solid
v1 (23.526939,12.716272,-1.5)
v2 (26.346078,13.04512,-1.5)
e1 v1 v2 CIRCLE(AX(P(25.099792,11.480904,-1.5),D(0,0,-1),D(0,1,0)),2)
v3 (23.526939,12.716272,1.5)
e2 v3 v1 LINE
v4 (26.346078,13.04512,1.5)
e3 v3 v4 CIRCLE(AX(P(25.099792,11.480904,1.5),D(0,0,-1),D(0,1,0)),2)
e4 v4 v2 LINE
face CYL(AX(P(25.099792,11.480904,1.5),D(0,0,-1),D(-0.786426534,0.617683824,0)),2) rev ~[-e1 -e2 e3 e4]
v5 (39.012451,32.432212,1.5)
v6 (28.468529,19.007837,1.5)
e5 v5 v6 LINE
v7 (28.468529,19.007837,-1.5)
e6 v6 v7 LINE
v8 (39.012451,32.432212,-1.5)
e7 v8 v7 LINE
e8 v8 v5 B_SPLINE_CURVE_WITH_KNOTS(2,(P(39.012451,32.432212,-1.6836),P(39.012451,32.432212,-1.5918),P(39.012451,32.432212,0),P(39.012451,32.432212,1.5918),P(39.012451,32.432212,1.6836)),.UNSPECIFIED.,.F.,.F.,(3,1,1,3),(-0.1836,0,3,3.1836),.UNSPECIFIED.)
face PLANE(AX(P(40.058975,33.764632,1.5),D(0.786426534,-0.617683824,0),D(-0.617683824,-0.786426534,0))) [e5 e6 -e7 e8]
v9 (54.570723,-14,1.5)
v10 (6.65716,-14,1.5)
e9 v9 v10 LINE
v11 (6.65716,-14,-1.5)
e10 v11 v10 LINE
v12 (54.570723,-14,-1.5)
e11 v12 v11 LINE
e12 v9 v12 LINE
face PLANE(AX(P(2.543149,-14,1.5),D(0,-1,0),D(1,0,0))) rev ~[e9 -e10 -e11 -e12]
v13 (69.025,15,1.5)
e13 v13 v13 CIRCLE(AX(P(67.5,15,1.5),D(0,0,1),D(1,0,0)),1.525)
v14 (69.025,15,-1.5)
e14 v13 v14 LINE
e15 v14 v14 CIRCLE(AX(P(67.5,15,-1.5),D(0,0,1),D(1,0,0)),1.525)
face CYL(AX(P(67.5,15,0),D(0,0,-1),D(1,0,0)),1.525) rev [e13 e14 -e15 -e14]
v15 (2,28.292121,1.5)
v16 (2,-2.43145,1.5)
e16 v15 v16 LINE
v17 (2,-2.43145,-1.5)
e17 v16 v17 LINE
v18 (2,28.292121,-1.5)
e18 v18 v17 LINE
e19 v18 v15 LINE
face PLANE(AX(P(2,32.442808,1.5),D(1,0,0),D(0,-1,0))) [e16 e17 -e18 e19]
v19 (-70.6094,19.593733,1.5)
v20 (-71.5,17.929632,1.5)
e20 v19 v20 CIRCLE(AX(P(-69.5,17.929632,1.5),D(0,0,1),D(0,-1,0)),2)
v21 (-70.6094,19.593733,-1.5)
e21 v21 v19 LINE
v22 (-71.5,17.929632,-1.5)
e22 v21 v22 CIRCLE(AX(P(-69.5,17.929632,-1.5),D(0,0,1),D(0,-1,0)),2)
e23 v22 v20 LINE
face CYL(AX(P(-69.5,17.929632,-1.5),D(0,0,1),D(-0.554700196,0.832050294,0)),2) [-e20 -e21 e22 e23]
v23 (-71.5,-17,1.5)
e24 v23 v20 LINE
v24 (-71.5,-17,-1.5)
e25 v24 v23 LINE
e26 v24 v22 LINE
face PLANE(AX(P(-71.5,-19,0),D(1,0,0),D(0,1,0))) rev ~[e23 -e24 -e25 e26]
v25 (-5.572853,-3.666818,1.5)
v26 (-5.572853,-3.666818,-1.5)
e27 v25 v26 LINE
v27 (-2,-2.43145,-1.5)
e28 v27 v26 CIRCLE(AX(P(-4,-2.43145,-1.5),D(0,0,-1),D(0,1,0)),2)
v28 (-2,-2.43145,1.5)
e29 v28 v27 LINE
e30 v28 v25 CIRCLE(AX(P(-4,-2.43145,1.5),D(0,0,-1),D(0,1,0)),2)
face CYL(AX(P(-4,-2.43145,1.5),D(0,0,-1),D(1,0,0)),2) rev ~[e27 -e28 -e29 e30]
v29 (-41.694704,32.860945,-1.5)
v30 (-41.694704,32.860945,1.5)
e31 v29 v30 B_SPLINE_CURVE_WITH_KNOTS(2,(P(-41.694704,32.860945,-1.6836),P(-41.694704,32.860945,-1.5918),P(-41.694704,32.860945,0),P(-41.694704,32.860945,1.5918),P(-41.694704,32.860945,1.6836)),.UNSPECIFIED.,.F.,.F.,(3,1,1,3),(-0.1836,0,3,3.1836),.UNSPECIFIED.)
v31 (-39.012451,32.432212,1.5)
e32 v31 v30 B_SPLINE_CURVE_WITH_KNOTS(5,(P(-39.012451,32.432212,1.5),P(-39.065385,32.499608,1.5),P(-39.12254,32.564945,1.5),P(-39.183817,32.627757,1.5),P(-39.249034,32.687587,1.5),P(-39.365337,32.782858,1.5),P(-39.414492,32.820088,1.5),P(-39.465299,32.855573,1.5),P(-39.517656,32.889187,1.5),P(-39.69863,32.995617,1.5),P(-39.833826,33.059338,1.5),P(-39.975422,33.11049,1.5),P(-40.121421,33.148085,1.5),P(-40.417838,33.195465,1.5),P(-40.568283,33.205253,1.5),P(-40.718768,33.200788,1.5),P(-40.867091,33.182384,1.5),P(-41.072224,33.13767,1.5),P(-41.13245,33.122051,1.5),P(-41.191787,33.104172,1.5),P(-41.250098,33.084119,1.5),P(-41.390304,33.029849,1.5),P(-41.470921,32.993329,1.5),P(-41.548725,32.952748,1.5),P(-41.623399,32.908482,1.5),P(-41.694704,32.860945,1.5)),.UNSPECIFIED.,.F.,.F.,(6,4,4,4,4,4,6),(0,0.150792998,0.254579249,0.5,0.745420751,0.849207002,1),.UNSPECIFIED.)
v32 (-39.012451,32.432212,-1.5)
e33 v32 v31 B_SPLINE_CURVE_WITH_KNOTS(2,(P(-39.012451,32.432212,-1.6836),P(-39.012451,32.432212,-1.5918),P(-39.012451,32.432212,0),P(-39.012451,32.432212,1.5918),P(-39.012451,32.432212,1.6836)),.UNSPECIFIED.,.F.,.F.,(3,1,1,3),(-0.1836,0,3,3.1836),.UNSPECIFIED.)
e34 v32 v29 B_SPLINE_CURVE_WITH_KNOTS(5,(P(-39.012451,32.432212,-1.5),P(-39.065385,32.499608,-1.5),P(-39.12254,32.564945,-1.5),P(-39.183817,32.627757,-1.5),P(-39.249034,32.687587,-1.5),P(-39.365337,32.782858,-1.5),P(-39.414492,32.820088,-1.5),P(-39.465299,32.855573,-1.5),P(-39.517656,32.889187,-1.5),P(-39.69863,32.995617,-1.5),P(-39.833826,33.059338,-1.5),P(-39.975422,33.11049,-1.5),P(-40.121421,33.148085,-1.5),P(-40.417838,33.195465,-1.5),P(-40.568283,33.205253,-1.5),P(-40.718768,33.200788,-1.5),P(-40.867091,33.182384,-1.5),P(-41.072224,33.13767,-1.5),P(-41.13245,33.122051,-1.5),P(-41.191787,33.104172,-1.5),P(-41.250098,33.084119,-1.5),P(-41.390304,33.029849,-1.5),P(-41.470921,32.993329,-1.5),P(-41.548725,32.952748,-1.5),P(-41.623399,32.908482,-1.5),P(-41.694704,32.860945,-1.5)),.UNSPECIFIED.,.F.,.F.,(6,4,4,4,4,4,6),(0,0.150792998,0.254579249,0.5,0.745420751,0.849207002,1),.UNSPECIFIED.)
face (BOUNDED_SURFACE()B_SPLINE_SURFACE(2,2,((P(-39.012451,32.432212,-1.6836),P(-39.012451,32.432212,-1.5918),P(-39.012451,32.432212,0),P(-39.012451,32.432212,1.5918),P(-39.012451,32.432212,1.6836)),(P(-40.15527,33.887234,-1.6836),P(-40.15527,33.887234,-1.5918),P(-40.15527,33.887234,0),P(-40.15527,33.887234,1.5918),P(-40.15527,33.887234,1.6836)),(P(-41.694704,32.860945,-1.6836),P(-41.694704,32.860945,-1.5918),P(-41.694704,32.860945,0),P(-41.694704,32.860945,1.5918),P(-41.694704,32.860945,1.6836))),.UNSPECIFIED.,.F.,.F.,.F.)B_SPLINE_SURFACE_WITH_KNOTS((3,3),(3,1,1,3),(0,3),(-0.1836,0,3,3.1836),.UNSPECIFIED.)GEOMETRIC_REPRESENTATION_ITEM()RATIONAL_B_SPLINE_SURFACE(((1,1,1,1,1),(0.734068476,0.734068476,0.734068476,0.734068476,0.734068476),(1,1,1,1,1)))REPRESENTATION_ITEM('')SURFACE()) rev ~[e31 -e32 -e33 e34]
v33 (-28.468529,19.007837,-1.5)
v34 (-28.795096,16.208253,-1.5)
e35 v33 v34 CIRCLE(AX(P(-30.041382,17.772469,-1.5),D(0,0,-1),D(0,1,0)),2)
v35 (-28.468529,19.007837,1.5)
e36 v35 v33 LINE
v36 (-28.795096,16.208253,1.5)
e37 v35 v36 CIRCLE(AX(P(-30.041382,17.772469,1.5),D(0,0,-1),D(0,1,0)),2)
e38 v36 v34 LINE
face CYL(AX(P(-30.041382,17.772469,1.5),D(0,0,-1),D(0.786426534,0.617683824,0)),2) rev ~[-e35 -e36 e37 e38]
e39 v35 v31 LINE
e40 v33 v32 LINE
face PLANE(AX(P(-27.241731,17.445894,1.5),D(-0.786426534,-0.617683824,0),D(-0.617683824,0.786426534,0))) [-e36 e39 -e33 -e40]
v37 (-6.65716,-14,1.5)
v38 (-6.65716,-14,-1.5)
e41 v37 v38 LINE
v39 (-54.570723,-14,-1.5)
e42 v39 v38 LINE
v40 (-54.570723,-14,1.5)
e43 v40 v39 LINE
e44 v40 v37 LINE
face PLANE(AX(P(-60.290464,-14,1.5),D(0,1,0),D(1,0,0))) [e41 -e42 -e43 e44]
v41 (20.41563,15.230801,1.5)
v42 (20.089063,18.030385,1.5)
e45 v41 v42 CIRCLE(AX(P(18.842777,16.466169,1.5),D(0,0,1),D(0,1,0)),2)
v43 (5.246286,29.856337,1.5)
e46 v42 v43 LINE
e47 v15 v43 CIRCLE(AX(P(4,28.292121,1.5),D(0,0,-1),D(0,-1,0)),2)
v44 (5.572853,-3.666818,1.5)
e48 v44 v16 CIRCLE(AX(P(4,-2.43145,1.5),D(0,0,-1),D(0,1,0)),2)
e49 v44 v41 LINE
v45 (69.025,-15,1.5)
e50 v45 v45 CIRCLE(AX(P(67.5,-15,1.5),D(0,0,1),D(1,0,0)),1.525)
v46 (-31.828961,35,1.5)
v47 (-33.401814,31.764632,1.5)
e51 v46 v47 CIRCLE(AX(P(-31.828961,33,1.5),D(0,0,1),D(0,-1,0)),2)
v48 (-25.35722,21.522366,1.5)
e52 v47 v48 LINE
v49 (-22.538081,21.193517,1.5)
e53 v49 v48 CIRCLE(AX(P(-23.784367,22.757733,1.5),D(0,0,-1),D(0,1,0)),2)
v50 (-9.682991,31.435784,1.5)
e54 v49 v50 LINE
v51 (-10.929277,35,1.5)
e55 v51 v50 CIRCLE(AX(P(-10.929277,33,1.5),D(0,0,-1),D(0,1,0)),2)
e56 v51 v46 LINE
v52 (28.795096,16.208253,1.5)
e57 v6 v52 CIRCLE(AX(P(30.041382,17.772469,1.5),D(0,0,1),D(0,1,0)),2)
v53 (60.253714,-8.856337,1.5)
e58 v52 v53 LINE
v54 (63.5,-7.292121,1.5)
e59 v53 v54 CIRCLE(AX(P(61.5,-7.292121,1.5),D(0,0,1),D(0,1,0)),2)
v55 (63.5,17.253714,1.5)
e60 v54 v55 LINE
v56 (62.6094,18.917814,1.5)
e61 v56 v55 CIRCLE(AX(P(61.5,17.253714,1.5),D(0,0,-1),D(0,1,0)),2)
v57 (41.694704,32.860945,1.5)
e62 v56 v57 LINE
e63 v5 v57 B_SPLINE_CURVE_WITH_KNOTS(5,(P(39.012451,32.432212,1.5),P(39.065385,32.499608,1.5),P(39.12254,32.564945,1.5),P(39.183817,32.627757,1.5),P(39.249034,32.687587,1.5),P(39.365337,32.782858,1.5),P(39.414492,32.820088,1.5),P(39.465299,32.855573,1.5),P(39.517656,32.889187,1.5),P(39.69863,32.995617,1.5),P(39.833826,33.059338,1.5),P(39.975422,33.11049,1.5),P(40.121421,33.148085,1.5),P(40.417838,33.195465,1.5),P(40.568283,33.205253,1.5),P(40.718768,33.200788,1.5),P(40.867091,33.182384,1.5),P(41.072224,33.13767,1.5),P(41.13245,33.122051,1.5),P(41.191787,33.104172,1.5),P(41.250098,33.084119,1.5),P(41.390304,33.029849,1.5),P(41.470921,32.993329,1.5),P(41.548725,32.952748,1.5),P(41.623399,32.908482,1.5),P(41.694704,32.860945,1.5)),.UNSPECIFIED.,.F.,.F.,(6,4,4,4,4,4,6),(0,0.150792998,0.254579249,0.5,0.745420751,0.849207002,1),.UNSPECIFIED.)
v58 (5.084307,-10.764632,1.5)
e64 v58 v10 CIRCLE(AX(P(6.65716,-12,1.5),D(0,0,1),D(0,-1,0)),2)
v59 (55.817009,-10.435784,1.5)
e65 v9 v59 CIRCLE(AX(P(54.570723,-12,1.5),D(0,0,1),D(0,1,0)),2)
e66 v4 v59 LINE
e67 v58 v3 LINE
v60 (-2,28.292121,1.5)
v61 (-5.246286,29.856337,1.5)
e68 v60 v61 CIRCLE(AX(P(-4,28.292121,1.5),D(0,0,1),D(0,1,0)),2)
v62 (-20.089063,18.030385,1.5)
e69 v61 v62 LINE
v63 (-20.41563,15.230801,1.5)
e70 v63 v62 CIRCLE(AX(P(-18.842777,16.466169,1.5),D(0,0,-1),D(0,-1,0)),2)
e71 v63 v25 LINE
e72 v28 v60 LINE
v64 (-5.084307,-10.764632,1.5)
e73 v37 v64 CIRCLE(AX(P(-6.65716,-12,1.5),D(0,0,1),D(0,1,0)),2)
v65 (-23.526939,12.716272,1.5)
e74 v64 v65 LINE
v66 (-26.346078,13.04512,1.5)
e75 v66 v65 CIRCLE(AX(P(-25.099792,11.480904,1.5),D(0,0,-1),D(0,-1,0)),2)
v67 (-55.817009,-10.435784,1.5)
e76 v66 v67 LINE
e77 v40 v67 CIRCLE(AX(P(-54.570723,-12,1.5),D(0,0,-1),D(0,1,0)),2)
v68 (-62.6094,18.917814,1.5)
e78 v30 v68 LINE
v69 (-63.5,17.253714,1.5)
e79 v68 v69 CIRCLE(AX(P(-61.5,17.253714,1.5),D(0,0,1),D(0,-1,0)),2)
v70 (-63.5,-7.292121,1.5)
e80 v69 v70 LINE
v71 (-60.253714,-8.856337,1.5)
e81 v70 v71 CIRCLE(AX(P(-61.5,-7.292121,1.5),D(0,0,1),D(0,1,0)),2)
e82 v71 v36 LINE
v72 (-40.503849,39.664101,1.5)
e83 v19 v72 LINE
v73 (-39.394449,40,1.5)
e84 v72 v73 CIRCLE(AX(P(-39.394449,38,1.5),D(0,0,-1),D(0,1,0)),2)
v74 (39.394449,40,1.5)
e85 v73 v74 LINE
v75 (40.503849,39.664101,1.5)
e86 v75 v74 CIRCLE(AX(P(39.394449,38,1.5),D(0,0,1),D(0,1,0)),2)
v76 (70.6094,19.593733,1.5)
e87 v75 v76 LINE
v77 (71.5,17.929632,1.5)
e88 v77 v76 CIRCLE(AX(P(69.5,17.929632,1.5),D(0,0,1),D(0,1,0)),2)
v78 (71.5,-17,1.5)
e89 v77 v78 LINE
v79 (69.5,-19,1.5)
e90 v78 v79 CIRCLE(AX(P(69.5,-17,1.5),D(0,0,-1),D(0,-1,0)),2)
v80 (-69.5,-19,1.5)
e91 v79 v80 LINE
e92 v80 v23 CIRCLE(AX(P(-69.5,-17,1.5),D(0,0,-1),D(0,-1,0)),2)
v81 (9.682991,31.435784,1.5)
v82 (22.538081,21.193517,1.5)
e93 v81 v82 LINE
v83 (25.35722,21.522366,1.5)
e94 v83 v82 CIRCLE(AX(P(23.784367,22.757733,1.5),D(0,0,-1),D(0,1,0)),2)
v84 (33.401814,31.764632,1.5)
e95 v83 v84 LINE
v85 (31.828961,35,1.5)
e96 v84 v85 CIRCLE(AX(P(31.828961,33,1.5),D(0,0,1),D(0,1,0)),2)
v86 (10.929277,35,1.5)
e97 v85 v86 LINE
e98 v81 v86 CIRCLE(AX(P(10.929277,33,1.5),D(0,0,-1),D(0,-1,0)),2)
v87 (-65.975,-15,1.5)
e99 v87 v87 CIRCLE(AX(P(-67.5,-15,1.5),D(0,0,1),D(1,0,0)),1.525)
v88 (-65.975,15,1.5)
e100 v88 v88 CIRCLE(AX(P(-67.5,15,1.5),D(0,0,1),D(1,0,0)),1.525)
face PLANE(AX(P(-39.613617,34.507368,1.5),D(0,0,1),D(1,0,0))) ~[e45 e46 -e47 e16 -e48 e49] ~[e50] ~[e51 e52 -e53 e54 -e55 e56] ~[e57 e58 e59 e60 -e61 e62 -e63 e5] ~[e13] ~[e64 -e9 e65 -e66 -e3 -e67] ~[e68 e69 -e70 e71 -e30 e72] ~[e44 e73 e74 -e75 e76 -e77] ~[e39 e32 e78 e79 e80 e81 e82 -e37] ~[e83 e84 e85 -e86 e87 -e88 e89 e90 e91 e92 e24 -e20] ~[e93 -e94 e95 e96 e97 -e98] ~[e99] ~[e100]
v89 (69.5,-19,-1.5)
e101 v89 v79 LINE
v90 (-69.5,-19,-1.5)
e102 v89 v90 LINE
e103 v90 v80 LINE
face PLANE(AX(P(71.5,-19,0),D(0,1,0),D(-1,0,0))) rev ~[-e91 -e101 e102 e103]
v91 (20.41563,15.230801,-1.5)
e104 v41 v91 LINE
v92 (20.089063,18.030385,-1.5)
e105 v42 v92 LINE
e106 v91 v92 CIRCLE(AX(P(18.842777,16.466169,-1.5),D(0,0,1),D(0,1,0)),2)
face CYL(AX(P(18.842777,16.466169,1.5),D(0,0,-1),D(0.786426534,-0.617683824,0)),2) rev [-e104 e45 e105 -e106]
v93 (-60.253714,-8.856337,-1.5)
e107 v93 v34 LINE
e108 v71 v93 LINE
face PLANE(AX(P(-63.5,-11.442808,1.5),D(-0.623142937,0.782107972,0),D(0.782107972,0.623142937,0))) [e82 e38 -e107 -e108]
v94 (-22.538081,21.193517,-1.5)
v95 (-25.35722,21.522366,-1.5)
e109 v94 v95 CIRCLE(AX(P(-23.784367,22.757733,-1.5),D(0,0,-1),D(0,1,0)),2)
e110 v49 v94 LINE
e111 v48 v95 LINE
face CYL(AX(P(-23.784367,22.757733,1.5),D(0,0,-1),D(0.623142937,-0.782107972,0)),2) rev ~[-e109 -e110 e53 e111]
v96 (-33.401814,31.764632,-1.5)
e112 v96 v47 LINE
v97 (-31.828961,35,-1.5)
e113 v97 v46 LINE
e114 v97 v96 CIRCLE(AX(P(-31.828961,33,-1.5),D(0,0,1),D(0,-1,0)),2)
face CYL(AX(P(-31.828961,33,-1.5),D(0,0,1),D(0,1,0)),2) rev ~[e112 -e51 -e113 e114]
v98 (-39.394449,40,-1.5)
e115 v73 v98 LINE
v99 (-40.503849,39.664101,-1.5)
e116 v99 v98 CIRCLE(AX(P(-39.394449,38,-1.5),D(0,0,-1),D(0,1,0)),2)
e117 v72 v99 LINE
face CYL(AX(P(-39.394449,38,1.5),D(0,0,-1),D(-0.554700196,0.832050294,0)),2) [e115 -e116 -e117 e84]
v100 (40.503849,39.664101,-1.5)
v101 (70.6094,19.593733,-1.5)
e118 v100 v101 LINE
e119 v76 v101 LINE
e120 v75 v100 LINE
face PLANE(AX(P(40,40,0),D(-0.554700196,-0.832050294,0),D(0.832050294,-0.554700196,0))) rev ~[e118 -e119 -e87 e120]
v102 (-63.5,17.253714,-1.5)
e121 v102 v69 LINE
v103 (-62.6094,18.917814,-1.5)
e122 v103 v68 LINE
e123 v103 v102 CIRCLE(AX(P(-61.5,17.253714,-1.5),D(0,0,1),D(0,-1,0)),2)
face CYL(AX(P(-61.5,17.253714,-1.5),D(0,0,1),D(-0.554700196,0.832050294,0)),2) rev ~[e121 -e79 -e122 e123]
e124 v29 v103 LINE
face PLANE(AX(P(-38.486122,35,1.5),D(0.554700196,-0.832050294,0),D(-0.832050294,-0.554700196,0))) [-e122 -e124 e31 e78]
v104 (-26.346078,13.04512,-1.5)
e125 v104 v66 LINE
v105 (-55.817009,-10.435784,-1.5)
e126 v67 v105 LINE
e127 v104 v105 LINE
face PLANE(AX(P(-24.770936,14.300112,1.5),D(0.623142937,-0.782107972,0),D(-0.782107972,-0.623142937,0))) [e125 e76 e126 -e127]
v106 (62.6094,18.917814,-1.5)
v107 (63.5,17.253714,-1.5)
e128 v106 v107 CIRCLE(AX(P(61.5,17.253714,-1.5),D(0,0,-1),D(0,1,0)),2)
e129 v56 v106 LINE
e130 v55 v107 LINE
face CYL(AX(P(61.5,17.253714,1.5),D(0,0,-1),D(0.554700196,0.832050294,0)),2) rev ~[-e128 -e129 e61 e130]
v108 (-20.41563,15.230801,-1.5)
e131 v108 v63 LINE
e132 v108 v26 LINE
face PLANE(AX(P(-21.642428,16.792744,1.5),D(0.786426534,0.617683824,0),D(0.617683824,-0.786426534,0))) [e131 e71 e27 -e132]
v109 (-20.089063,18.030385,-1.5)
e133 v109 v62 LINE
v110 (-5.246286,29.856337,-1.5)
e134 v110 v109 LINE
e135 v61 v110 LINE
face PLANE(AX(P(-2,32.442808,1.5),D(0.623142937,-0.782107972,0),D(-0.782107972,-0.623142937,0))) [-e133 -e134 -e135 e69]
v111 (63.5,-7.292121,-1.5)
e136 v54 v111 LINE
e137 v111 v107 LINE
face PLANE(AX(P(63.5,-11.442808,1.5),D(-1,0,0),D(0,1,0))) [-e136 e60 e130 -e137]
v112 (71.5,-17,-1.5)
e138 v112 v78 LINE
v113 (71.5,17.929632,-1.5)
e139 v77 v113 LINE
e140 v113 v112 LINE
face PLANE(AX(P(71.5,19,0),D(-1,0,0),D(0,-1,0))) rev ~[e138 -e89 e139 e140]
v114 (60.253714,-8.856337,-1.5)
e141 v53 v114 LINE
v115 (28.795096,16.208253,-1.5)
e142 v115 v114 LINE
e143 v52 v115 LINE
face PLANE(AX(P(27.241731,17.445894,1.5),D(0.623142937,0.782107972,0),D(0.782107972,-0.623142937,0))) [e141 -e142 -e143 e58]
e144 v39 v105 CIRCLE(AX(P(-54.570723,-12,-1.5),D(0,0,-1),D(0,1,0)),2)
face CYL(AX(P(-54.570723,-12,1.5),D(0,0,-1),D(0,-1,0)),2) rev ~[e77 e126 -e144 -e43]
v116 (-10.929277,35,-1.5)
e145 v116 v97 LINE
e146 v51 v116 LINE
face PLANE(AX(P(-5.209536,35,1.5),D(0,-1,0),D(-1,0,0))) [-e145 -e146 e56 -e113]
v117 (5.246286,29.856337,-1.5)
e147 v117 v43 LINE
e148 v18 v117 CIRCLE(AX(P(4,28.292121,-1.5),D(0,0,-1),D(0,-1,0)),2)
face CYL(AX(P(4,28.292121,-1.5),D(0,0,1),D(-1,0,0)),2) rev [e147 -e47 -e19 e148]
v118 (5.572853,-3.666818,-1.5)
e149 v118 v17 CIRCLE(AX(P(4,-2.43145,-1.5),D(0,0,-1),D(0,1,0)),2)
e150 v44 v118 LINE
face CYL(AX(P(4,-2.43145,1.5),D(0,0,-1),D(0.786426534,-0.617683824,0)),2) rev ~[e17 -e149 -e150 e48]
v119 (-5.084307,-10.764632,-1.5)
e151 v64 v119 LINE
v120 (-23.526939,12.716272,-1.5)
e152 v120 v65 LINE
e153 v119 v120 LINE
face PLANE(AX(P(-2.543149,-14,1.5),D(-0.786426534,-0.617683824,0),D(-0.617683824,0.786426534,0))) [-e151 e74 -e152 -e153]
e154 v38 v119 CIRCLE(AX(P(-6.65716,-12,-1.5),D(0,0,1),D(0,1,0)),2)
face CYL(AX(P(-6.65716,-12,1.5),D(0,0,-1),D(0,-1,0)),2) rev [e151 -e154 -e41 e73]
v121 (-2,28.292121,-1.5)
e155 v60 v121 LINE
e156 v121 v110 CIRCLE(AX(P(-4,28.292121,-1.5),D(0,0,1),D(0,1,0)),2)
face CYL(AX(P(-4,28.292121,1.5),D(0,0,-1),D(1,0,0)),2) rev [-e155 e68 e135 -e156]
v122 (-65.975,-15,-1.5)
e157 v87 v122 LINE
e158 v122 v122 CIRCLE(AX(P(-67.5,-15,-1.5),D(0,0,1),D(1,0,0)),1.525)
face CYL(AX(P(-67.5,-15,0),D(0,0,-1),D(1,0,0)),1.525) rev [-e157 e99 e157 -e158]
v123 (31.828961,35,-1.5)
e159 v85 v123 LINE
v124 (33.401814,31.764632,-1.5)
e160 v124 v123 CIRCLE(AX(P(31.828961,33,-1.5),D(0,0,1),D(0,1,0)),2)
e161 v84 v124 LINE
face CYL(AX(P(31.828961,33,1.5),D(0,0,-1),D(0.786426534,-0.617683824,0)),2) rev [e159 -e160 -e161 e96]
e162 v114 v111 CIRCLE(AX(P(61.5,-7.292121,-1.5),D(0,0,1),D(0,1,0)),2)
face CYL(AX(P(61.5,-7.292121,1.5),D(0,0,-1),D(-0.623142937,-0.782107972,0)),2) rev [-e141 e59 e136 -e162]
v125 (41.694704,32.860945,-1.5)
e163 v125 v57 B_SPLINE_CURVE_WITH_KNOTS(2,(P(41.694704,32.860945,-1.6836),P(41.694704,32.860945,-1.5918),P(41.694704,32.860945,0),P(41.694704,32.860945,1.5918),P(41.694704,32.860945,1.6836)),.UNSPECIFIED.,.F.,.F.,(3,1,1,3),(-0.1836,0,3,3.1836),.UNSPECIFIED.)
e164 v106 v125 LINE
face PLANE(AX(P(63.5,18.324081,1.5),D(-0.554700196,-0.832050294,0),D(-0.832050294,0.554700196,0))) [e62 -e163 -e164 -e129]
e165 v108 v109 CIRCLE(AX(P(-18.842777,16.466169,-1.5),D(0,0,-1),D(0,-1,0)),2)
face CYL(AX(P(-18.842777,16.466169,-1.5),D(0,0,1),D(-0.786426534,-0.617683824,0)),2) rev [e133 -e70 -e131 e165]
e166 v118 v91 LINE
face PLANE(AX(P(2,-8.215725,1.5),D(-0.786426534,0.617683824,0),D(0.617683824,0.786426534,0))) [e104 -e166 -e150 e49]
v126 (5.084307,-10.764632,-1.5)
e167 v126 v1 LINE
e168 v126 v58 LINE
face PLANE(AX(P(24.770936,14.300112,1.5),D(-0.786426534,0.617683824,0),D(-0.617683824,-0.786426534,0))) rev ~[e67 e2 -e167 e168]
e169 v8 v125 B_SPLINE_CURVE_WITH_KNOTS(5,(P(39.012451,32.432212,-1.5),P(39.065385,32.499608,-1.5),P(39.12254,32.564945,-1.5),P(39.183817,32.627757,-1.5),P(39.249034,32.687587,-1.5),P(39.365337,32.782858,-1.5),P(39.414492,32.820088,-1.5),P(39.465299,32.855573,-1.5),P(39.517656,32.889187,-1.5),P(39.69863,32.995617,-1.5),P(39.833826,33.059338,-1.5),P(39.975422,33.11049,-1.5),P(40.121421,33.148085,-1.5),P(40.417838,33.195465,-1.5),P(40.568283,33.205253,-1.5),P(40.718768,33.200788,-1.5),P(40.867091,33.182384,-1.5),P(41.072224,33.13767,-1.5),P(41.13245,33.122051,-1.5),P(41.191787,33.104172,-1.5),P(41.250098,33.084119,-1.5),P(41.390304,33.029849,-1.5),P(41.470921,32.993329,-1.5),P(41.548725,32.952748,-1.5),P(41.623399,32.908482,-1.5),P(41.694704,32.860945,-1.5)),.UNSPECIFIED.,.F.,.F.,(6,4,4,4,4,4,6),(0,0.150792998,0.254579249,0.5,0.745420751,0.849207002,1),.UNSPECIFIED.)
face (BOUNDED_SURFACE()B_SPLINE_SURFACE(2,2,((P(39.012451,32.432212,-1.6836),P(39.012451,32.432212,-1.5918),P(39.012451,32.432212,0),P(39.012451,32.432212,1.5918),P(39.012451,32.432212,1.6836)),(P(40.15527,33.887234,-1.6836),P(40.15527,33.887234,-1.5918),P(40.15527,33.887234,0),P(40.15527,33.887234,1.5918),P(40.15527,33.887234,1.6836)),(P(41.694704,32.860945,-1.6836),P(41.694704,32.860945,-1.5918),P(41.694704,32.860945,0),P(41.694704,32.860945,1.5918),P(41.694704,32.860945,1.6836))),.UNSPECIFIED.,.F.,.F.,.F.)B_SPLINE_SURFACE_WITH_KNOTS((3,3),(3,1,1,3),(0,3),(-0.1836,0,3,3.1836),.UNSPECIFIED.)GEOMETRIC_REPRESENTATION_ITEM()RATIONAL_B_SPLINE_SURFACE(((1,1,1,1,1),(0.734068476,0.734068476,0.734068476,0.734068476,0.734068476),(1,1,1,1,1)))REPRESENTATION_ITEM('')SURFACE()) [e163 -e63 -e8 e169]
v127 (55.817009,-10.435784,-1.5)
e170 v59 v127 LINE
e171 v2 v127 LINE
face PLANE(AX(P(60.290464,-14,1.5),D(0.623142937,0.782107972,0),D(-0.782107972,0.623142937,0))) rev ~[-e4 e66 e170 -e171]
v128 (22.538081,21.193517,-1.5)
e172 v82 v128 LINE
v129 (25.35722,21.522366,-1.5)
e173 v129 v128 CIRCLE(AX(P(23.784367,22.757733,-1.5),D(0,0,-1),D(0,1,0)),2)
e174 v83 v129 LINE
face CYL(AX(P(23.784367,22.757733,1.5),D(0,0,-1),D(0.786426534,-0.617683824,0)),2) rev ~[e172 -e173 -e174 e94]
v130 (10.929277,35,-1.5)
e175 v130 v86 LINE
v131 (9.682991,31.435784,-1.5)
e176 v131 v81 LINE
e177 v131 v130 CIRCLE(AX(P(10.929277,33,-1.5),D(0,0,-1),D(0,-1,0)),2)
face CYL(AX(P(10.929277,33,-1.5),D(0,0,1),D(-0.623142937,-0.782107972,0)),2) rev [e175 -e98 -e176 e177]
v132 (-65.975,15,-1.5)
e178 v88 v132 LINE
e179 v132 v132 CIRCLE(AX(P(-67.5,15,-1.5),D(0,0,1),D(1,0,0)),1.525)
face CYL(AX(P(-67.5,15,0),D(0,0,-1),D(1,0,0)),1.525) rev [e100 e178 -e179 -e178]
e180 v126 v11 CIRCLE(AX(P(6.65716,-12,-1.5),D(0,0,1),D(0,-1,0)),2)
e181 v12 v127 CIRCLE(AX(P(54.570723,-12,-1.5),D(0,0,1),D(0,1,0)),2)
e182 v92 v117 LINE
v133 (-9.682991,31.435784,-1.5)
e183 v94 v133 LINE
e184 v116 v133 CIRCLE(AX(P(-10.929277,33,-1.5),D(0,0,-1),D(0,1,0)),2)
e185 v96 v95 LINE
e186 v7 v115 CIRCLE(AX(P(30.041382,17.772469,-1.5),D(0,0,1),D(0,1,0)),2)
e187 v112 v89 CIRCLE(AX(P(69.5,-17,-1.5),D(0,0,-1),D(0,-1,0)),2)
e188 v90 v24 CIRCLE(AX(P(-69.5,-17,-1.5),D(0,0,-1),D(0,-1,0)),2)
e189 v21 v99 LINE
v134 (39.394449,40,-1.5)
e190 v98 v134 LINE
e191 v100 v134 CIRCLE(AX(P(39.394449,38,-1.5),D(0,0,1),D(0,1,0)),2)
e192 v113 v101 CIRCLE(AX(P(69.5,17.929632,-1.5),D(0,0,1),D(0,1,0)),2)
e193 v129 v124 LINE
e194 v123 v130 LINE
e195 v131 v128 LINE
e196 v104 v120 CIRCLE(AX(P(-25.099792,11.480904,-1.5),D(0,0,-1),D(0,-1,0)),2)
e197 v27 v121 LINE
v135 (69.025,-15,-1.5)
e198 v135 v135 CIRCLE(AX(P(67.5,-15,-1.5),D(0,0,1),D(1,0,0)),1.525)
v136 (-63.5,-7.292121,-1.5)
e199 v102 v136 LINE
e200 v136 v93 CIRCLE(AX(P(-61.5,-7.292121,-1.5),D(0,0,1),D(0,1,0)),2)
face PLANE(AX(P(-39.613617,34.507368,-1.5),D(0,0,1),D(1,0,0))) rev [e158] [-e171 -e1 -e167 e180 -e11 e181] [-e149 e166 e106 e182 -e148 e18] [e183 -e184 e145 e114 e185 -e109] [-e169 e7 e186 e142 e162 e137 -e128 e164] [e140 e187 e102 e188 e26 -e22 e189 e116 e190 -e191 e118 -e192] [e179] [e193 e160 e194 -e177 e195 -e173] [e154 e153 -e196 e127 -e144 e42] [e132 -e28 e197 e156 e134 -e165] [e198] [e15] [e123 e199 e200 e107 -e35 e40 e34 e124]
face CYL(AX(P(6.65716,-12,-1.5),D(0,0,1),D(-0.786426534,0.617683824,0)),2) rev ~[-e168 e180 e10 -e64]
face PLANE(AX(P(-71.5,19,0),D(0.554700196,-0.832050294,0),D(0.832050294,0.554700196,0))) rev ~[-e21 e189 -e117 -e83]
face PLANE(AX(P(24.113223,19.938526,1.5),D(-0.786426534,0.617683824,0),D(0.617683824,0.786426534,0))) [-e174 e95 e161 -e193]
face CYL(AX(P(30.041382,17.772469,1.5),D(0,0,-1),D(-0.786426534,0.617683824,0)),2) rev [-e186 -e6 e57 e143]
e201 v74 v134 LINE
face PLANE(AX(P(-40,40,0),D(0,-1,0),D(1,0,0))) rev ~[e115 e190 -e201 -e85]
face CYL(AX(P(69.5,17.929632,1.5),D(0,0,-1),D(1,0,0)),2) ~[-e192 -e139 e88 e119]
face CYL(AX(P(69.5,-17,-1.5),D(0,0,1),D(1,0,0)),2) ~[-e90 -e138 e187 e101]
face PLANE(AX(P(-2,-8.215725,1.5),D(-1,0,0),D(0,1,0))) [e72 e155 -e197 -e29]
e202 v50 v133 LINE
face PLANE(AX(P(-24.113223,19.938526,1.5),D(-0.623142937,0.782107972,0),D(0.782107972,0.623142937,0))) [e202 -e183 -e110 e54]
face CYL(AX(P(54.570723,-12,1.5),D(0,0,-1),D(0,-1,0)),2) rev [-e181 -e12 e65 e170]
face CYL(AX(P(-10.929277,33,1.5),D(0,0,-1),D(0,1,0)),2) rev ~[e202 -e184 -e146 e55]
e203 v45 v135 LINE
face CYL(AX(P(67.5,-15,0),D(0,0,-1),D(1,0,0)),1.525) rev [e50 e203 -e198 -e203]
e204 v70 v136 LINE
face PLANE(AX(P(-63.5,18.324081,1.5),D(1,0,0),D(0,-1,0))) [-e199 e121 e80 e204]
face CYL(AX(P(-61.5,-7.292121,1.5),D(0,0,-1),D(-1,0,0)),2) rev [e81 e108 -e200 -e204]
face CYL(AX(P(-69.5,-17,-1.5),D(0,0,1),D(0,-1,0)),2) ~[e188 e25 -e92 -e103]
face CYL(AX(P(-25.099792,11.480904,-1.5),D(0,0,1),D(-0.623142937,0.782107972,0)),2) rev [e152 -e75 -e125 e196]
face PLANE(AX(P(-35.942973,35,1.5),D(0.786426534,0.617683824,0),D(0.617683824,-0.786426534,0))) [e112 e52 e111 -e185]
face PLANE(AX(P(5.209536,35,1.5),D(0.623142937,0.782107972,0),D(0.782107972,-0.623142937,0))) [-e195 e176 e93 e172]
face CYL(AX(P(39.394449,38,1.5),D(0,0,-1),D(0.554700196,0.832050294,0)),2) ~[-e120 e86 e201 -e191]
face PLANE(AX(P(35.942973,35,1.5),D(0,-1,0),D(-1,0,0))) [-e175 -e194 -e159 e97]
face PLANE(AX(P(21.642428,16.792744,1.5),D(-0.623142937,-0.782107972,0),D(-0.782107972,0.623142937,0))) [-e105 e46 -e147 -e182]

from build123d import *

# Parameters (mm, degrees)
SKETCH_1_R          = 1.525
EXTRUDE_1_DEPTH     = 1.5
FILLET_1_R          = 2
CUT_EXTRUDE_1_DEPTH = 11.5
EXTRUDE_2_DEPTH     = 3
FILLET_2_R          = 2


with BuildPart() as part:
    # 草图1 → 凸台-拉伸1 (new, symmetric)
    with BuildSketch(Plane.XY):
        Polygon((-71.5, 19), (-40, 40), (40, 40), (71.5, 19), (71.5, -19), (-71.5, -19), align=None)
        with Locations((67.5, 15)):
            Circle(SKETCH_1_R, mode=Mode.SUBTRACT)
        with Locations((67.5, -15)):
            Circle(SKETCH_1_R, mode=Mode.SUBTRACT)
        with Locations((-67.5, -15)):
            Circle(SKETCH_1_R, mode=Mode.SUBTRACT)
        with Locations((-67.5, 15)):
            Circle(SKETCH_1_R, mode=Mode.SUBTRACT)
    extrude(amount=EXTRUDE_1_DEPTH, both=True)

    # 圆角1
    fillet_1_edges = [part.edges().sort_by_distance(p)[0] for p in [
        (71.5, 19, 0),
        (71.5, -19, 0),
        (-71.5, -19, 0),
        (-71.5, 19, 0),
        (-40, 40, 0),
        (40, 40, 0),
    ]]
    fillet(fillet_1_edges, radius=FILLET_1_R)

    # 草图2 → 切除-拉伸1 (cut, symmetric)
    with BuildSketch(Plane.XY.offset(1.5)):
        Polygon((-2.543149186, -14), (-24.770935731, 14.300111558), (-60.290463502, -14), align=None)
        Polygon((-40.058974879, 33.764632352), (-38.486121811, 35), (-63.5, 18.324081208), (-63.5, -11.442808319), (-27.241730885, 17.445893903), align=None)
        Polygon((-5.209536498, 35), (-35.942972625, 35), (-24.113223205, 19.938526038), align=None)
        Polygon((-2, 32.442808319), (-21.642428051, 16.792743692), (-2, -8.215725055), align=None)
        Polygon((21.642428051, 16.792743692), (2, 32.442808319), (2, -8.215725055), align=None)
        Polygon((35.942972625, 35), (5.209536498, 35), (24.113223205, 19.938526038), align=None)
        Polygon((63.5, 18.324081208), (38.486121811, 35), (40.058974879, 33.764632352), (27.241730885, 17.445893903), (63.5, -11.442808319), align=None)
        Polygon((24.770935731, 14.300111558), (2.543149186, -14), (60.290463502, -14), align=None)
    extrude(amount=CUT_EXTRUDE_1_DEPTH, both=True, mode=Mode.SUBTRACT)

    # 草图3 → 凸台-拉伸2 (add)
    with BuildSketch(Plane.XY.offset(1.5)):
        Polygon((40.058974879, 33.764632352), (40.676658703, 34.551058886), (38.486121811, 35), align=None)
    extrude_2 = extrude(amount=-EXTRUDE_2_DEPTH)

    # 镜向1: 凸台-拉伸2 across plane
    add(extrude_2.mirror(Plane(origin=(0, 0, 0), x_dir=(0, 0, 1), z_dir=(1, 0, 0))))

    # 圆角2
    fillet_2_edges = [part.edges().sort_by_distance(p)[0] for p in [
        (2, 32.442808319, 0),
        (21.642428051, 16.792743692, 0),
        (2, -8.215725055, 0),
        (-21.642428051, 16.792743692, 0),
        (-2, 32.442808319, 0),
        (-2, -8.215725055, 0),
        (-63.5, -11.442808319, 0),
        (-63.5, 18.324081208, 0),
        (-27.241730885, 17.445893903, 0),
        (-24.113223205, 19.938526038, 0),
        (-35.942972625, 35, 0),
        (-5.209536498, 35, 0),
        (24.770935731, 14.300111558, 0),
        (60.290463502, -14, 0),
        (2.543149186, -14, 0),
        (5.209536498, 35, 0),
        (35.942972625, 35, 0),
        (24.113223205, 19.938526038, 0),
        (27.241730885, 17.445893903, 0),
        (63.5, 18.324081208, 0),
        (63.5, -11.442808319, 0),
        (-60.290463502, -14, 0),
        (-24.770935731, 14.300111558, 0),
        (-2.543149186, -14, 0),
        (40.155270293, 33.887234346, 0),
        (-40.155270293, 33.887234346, 0),
    ]]
    fillet(fillet_2_edges, radius=FILLET_2_R)


solid = part.part
